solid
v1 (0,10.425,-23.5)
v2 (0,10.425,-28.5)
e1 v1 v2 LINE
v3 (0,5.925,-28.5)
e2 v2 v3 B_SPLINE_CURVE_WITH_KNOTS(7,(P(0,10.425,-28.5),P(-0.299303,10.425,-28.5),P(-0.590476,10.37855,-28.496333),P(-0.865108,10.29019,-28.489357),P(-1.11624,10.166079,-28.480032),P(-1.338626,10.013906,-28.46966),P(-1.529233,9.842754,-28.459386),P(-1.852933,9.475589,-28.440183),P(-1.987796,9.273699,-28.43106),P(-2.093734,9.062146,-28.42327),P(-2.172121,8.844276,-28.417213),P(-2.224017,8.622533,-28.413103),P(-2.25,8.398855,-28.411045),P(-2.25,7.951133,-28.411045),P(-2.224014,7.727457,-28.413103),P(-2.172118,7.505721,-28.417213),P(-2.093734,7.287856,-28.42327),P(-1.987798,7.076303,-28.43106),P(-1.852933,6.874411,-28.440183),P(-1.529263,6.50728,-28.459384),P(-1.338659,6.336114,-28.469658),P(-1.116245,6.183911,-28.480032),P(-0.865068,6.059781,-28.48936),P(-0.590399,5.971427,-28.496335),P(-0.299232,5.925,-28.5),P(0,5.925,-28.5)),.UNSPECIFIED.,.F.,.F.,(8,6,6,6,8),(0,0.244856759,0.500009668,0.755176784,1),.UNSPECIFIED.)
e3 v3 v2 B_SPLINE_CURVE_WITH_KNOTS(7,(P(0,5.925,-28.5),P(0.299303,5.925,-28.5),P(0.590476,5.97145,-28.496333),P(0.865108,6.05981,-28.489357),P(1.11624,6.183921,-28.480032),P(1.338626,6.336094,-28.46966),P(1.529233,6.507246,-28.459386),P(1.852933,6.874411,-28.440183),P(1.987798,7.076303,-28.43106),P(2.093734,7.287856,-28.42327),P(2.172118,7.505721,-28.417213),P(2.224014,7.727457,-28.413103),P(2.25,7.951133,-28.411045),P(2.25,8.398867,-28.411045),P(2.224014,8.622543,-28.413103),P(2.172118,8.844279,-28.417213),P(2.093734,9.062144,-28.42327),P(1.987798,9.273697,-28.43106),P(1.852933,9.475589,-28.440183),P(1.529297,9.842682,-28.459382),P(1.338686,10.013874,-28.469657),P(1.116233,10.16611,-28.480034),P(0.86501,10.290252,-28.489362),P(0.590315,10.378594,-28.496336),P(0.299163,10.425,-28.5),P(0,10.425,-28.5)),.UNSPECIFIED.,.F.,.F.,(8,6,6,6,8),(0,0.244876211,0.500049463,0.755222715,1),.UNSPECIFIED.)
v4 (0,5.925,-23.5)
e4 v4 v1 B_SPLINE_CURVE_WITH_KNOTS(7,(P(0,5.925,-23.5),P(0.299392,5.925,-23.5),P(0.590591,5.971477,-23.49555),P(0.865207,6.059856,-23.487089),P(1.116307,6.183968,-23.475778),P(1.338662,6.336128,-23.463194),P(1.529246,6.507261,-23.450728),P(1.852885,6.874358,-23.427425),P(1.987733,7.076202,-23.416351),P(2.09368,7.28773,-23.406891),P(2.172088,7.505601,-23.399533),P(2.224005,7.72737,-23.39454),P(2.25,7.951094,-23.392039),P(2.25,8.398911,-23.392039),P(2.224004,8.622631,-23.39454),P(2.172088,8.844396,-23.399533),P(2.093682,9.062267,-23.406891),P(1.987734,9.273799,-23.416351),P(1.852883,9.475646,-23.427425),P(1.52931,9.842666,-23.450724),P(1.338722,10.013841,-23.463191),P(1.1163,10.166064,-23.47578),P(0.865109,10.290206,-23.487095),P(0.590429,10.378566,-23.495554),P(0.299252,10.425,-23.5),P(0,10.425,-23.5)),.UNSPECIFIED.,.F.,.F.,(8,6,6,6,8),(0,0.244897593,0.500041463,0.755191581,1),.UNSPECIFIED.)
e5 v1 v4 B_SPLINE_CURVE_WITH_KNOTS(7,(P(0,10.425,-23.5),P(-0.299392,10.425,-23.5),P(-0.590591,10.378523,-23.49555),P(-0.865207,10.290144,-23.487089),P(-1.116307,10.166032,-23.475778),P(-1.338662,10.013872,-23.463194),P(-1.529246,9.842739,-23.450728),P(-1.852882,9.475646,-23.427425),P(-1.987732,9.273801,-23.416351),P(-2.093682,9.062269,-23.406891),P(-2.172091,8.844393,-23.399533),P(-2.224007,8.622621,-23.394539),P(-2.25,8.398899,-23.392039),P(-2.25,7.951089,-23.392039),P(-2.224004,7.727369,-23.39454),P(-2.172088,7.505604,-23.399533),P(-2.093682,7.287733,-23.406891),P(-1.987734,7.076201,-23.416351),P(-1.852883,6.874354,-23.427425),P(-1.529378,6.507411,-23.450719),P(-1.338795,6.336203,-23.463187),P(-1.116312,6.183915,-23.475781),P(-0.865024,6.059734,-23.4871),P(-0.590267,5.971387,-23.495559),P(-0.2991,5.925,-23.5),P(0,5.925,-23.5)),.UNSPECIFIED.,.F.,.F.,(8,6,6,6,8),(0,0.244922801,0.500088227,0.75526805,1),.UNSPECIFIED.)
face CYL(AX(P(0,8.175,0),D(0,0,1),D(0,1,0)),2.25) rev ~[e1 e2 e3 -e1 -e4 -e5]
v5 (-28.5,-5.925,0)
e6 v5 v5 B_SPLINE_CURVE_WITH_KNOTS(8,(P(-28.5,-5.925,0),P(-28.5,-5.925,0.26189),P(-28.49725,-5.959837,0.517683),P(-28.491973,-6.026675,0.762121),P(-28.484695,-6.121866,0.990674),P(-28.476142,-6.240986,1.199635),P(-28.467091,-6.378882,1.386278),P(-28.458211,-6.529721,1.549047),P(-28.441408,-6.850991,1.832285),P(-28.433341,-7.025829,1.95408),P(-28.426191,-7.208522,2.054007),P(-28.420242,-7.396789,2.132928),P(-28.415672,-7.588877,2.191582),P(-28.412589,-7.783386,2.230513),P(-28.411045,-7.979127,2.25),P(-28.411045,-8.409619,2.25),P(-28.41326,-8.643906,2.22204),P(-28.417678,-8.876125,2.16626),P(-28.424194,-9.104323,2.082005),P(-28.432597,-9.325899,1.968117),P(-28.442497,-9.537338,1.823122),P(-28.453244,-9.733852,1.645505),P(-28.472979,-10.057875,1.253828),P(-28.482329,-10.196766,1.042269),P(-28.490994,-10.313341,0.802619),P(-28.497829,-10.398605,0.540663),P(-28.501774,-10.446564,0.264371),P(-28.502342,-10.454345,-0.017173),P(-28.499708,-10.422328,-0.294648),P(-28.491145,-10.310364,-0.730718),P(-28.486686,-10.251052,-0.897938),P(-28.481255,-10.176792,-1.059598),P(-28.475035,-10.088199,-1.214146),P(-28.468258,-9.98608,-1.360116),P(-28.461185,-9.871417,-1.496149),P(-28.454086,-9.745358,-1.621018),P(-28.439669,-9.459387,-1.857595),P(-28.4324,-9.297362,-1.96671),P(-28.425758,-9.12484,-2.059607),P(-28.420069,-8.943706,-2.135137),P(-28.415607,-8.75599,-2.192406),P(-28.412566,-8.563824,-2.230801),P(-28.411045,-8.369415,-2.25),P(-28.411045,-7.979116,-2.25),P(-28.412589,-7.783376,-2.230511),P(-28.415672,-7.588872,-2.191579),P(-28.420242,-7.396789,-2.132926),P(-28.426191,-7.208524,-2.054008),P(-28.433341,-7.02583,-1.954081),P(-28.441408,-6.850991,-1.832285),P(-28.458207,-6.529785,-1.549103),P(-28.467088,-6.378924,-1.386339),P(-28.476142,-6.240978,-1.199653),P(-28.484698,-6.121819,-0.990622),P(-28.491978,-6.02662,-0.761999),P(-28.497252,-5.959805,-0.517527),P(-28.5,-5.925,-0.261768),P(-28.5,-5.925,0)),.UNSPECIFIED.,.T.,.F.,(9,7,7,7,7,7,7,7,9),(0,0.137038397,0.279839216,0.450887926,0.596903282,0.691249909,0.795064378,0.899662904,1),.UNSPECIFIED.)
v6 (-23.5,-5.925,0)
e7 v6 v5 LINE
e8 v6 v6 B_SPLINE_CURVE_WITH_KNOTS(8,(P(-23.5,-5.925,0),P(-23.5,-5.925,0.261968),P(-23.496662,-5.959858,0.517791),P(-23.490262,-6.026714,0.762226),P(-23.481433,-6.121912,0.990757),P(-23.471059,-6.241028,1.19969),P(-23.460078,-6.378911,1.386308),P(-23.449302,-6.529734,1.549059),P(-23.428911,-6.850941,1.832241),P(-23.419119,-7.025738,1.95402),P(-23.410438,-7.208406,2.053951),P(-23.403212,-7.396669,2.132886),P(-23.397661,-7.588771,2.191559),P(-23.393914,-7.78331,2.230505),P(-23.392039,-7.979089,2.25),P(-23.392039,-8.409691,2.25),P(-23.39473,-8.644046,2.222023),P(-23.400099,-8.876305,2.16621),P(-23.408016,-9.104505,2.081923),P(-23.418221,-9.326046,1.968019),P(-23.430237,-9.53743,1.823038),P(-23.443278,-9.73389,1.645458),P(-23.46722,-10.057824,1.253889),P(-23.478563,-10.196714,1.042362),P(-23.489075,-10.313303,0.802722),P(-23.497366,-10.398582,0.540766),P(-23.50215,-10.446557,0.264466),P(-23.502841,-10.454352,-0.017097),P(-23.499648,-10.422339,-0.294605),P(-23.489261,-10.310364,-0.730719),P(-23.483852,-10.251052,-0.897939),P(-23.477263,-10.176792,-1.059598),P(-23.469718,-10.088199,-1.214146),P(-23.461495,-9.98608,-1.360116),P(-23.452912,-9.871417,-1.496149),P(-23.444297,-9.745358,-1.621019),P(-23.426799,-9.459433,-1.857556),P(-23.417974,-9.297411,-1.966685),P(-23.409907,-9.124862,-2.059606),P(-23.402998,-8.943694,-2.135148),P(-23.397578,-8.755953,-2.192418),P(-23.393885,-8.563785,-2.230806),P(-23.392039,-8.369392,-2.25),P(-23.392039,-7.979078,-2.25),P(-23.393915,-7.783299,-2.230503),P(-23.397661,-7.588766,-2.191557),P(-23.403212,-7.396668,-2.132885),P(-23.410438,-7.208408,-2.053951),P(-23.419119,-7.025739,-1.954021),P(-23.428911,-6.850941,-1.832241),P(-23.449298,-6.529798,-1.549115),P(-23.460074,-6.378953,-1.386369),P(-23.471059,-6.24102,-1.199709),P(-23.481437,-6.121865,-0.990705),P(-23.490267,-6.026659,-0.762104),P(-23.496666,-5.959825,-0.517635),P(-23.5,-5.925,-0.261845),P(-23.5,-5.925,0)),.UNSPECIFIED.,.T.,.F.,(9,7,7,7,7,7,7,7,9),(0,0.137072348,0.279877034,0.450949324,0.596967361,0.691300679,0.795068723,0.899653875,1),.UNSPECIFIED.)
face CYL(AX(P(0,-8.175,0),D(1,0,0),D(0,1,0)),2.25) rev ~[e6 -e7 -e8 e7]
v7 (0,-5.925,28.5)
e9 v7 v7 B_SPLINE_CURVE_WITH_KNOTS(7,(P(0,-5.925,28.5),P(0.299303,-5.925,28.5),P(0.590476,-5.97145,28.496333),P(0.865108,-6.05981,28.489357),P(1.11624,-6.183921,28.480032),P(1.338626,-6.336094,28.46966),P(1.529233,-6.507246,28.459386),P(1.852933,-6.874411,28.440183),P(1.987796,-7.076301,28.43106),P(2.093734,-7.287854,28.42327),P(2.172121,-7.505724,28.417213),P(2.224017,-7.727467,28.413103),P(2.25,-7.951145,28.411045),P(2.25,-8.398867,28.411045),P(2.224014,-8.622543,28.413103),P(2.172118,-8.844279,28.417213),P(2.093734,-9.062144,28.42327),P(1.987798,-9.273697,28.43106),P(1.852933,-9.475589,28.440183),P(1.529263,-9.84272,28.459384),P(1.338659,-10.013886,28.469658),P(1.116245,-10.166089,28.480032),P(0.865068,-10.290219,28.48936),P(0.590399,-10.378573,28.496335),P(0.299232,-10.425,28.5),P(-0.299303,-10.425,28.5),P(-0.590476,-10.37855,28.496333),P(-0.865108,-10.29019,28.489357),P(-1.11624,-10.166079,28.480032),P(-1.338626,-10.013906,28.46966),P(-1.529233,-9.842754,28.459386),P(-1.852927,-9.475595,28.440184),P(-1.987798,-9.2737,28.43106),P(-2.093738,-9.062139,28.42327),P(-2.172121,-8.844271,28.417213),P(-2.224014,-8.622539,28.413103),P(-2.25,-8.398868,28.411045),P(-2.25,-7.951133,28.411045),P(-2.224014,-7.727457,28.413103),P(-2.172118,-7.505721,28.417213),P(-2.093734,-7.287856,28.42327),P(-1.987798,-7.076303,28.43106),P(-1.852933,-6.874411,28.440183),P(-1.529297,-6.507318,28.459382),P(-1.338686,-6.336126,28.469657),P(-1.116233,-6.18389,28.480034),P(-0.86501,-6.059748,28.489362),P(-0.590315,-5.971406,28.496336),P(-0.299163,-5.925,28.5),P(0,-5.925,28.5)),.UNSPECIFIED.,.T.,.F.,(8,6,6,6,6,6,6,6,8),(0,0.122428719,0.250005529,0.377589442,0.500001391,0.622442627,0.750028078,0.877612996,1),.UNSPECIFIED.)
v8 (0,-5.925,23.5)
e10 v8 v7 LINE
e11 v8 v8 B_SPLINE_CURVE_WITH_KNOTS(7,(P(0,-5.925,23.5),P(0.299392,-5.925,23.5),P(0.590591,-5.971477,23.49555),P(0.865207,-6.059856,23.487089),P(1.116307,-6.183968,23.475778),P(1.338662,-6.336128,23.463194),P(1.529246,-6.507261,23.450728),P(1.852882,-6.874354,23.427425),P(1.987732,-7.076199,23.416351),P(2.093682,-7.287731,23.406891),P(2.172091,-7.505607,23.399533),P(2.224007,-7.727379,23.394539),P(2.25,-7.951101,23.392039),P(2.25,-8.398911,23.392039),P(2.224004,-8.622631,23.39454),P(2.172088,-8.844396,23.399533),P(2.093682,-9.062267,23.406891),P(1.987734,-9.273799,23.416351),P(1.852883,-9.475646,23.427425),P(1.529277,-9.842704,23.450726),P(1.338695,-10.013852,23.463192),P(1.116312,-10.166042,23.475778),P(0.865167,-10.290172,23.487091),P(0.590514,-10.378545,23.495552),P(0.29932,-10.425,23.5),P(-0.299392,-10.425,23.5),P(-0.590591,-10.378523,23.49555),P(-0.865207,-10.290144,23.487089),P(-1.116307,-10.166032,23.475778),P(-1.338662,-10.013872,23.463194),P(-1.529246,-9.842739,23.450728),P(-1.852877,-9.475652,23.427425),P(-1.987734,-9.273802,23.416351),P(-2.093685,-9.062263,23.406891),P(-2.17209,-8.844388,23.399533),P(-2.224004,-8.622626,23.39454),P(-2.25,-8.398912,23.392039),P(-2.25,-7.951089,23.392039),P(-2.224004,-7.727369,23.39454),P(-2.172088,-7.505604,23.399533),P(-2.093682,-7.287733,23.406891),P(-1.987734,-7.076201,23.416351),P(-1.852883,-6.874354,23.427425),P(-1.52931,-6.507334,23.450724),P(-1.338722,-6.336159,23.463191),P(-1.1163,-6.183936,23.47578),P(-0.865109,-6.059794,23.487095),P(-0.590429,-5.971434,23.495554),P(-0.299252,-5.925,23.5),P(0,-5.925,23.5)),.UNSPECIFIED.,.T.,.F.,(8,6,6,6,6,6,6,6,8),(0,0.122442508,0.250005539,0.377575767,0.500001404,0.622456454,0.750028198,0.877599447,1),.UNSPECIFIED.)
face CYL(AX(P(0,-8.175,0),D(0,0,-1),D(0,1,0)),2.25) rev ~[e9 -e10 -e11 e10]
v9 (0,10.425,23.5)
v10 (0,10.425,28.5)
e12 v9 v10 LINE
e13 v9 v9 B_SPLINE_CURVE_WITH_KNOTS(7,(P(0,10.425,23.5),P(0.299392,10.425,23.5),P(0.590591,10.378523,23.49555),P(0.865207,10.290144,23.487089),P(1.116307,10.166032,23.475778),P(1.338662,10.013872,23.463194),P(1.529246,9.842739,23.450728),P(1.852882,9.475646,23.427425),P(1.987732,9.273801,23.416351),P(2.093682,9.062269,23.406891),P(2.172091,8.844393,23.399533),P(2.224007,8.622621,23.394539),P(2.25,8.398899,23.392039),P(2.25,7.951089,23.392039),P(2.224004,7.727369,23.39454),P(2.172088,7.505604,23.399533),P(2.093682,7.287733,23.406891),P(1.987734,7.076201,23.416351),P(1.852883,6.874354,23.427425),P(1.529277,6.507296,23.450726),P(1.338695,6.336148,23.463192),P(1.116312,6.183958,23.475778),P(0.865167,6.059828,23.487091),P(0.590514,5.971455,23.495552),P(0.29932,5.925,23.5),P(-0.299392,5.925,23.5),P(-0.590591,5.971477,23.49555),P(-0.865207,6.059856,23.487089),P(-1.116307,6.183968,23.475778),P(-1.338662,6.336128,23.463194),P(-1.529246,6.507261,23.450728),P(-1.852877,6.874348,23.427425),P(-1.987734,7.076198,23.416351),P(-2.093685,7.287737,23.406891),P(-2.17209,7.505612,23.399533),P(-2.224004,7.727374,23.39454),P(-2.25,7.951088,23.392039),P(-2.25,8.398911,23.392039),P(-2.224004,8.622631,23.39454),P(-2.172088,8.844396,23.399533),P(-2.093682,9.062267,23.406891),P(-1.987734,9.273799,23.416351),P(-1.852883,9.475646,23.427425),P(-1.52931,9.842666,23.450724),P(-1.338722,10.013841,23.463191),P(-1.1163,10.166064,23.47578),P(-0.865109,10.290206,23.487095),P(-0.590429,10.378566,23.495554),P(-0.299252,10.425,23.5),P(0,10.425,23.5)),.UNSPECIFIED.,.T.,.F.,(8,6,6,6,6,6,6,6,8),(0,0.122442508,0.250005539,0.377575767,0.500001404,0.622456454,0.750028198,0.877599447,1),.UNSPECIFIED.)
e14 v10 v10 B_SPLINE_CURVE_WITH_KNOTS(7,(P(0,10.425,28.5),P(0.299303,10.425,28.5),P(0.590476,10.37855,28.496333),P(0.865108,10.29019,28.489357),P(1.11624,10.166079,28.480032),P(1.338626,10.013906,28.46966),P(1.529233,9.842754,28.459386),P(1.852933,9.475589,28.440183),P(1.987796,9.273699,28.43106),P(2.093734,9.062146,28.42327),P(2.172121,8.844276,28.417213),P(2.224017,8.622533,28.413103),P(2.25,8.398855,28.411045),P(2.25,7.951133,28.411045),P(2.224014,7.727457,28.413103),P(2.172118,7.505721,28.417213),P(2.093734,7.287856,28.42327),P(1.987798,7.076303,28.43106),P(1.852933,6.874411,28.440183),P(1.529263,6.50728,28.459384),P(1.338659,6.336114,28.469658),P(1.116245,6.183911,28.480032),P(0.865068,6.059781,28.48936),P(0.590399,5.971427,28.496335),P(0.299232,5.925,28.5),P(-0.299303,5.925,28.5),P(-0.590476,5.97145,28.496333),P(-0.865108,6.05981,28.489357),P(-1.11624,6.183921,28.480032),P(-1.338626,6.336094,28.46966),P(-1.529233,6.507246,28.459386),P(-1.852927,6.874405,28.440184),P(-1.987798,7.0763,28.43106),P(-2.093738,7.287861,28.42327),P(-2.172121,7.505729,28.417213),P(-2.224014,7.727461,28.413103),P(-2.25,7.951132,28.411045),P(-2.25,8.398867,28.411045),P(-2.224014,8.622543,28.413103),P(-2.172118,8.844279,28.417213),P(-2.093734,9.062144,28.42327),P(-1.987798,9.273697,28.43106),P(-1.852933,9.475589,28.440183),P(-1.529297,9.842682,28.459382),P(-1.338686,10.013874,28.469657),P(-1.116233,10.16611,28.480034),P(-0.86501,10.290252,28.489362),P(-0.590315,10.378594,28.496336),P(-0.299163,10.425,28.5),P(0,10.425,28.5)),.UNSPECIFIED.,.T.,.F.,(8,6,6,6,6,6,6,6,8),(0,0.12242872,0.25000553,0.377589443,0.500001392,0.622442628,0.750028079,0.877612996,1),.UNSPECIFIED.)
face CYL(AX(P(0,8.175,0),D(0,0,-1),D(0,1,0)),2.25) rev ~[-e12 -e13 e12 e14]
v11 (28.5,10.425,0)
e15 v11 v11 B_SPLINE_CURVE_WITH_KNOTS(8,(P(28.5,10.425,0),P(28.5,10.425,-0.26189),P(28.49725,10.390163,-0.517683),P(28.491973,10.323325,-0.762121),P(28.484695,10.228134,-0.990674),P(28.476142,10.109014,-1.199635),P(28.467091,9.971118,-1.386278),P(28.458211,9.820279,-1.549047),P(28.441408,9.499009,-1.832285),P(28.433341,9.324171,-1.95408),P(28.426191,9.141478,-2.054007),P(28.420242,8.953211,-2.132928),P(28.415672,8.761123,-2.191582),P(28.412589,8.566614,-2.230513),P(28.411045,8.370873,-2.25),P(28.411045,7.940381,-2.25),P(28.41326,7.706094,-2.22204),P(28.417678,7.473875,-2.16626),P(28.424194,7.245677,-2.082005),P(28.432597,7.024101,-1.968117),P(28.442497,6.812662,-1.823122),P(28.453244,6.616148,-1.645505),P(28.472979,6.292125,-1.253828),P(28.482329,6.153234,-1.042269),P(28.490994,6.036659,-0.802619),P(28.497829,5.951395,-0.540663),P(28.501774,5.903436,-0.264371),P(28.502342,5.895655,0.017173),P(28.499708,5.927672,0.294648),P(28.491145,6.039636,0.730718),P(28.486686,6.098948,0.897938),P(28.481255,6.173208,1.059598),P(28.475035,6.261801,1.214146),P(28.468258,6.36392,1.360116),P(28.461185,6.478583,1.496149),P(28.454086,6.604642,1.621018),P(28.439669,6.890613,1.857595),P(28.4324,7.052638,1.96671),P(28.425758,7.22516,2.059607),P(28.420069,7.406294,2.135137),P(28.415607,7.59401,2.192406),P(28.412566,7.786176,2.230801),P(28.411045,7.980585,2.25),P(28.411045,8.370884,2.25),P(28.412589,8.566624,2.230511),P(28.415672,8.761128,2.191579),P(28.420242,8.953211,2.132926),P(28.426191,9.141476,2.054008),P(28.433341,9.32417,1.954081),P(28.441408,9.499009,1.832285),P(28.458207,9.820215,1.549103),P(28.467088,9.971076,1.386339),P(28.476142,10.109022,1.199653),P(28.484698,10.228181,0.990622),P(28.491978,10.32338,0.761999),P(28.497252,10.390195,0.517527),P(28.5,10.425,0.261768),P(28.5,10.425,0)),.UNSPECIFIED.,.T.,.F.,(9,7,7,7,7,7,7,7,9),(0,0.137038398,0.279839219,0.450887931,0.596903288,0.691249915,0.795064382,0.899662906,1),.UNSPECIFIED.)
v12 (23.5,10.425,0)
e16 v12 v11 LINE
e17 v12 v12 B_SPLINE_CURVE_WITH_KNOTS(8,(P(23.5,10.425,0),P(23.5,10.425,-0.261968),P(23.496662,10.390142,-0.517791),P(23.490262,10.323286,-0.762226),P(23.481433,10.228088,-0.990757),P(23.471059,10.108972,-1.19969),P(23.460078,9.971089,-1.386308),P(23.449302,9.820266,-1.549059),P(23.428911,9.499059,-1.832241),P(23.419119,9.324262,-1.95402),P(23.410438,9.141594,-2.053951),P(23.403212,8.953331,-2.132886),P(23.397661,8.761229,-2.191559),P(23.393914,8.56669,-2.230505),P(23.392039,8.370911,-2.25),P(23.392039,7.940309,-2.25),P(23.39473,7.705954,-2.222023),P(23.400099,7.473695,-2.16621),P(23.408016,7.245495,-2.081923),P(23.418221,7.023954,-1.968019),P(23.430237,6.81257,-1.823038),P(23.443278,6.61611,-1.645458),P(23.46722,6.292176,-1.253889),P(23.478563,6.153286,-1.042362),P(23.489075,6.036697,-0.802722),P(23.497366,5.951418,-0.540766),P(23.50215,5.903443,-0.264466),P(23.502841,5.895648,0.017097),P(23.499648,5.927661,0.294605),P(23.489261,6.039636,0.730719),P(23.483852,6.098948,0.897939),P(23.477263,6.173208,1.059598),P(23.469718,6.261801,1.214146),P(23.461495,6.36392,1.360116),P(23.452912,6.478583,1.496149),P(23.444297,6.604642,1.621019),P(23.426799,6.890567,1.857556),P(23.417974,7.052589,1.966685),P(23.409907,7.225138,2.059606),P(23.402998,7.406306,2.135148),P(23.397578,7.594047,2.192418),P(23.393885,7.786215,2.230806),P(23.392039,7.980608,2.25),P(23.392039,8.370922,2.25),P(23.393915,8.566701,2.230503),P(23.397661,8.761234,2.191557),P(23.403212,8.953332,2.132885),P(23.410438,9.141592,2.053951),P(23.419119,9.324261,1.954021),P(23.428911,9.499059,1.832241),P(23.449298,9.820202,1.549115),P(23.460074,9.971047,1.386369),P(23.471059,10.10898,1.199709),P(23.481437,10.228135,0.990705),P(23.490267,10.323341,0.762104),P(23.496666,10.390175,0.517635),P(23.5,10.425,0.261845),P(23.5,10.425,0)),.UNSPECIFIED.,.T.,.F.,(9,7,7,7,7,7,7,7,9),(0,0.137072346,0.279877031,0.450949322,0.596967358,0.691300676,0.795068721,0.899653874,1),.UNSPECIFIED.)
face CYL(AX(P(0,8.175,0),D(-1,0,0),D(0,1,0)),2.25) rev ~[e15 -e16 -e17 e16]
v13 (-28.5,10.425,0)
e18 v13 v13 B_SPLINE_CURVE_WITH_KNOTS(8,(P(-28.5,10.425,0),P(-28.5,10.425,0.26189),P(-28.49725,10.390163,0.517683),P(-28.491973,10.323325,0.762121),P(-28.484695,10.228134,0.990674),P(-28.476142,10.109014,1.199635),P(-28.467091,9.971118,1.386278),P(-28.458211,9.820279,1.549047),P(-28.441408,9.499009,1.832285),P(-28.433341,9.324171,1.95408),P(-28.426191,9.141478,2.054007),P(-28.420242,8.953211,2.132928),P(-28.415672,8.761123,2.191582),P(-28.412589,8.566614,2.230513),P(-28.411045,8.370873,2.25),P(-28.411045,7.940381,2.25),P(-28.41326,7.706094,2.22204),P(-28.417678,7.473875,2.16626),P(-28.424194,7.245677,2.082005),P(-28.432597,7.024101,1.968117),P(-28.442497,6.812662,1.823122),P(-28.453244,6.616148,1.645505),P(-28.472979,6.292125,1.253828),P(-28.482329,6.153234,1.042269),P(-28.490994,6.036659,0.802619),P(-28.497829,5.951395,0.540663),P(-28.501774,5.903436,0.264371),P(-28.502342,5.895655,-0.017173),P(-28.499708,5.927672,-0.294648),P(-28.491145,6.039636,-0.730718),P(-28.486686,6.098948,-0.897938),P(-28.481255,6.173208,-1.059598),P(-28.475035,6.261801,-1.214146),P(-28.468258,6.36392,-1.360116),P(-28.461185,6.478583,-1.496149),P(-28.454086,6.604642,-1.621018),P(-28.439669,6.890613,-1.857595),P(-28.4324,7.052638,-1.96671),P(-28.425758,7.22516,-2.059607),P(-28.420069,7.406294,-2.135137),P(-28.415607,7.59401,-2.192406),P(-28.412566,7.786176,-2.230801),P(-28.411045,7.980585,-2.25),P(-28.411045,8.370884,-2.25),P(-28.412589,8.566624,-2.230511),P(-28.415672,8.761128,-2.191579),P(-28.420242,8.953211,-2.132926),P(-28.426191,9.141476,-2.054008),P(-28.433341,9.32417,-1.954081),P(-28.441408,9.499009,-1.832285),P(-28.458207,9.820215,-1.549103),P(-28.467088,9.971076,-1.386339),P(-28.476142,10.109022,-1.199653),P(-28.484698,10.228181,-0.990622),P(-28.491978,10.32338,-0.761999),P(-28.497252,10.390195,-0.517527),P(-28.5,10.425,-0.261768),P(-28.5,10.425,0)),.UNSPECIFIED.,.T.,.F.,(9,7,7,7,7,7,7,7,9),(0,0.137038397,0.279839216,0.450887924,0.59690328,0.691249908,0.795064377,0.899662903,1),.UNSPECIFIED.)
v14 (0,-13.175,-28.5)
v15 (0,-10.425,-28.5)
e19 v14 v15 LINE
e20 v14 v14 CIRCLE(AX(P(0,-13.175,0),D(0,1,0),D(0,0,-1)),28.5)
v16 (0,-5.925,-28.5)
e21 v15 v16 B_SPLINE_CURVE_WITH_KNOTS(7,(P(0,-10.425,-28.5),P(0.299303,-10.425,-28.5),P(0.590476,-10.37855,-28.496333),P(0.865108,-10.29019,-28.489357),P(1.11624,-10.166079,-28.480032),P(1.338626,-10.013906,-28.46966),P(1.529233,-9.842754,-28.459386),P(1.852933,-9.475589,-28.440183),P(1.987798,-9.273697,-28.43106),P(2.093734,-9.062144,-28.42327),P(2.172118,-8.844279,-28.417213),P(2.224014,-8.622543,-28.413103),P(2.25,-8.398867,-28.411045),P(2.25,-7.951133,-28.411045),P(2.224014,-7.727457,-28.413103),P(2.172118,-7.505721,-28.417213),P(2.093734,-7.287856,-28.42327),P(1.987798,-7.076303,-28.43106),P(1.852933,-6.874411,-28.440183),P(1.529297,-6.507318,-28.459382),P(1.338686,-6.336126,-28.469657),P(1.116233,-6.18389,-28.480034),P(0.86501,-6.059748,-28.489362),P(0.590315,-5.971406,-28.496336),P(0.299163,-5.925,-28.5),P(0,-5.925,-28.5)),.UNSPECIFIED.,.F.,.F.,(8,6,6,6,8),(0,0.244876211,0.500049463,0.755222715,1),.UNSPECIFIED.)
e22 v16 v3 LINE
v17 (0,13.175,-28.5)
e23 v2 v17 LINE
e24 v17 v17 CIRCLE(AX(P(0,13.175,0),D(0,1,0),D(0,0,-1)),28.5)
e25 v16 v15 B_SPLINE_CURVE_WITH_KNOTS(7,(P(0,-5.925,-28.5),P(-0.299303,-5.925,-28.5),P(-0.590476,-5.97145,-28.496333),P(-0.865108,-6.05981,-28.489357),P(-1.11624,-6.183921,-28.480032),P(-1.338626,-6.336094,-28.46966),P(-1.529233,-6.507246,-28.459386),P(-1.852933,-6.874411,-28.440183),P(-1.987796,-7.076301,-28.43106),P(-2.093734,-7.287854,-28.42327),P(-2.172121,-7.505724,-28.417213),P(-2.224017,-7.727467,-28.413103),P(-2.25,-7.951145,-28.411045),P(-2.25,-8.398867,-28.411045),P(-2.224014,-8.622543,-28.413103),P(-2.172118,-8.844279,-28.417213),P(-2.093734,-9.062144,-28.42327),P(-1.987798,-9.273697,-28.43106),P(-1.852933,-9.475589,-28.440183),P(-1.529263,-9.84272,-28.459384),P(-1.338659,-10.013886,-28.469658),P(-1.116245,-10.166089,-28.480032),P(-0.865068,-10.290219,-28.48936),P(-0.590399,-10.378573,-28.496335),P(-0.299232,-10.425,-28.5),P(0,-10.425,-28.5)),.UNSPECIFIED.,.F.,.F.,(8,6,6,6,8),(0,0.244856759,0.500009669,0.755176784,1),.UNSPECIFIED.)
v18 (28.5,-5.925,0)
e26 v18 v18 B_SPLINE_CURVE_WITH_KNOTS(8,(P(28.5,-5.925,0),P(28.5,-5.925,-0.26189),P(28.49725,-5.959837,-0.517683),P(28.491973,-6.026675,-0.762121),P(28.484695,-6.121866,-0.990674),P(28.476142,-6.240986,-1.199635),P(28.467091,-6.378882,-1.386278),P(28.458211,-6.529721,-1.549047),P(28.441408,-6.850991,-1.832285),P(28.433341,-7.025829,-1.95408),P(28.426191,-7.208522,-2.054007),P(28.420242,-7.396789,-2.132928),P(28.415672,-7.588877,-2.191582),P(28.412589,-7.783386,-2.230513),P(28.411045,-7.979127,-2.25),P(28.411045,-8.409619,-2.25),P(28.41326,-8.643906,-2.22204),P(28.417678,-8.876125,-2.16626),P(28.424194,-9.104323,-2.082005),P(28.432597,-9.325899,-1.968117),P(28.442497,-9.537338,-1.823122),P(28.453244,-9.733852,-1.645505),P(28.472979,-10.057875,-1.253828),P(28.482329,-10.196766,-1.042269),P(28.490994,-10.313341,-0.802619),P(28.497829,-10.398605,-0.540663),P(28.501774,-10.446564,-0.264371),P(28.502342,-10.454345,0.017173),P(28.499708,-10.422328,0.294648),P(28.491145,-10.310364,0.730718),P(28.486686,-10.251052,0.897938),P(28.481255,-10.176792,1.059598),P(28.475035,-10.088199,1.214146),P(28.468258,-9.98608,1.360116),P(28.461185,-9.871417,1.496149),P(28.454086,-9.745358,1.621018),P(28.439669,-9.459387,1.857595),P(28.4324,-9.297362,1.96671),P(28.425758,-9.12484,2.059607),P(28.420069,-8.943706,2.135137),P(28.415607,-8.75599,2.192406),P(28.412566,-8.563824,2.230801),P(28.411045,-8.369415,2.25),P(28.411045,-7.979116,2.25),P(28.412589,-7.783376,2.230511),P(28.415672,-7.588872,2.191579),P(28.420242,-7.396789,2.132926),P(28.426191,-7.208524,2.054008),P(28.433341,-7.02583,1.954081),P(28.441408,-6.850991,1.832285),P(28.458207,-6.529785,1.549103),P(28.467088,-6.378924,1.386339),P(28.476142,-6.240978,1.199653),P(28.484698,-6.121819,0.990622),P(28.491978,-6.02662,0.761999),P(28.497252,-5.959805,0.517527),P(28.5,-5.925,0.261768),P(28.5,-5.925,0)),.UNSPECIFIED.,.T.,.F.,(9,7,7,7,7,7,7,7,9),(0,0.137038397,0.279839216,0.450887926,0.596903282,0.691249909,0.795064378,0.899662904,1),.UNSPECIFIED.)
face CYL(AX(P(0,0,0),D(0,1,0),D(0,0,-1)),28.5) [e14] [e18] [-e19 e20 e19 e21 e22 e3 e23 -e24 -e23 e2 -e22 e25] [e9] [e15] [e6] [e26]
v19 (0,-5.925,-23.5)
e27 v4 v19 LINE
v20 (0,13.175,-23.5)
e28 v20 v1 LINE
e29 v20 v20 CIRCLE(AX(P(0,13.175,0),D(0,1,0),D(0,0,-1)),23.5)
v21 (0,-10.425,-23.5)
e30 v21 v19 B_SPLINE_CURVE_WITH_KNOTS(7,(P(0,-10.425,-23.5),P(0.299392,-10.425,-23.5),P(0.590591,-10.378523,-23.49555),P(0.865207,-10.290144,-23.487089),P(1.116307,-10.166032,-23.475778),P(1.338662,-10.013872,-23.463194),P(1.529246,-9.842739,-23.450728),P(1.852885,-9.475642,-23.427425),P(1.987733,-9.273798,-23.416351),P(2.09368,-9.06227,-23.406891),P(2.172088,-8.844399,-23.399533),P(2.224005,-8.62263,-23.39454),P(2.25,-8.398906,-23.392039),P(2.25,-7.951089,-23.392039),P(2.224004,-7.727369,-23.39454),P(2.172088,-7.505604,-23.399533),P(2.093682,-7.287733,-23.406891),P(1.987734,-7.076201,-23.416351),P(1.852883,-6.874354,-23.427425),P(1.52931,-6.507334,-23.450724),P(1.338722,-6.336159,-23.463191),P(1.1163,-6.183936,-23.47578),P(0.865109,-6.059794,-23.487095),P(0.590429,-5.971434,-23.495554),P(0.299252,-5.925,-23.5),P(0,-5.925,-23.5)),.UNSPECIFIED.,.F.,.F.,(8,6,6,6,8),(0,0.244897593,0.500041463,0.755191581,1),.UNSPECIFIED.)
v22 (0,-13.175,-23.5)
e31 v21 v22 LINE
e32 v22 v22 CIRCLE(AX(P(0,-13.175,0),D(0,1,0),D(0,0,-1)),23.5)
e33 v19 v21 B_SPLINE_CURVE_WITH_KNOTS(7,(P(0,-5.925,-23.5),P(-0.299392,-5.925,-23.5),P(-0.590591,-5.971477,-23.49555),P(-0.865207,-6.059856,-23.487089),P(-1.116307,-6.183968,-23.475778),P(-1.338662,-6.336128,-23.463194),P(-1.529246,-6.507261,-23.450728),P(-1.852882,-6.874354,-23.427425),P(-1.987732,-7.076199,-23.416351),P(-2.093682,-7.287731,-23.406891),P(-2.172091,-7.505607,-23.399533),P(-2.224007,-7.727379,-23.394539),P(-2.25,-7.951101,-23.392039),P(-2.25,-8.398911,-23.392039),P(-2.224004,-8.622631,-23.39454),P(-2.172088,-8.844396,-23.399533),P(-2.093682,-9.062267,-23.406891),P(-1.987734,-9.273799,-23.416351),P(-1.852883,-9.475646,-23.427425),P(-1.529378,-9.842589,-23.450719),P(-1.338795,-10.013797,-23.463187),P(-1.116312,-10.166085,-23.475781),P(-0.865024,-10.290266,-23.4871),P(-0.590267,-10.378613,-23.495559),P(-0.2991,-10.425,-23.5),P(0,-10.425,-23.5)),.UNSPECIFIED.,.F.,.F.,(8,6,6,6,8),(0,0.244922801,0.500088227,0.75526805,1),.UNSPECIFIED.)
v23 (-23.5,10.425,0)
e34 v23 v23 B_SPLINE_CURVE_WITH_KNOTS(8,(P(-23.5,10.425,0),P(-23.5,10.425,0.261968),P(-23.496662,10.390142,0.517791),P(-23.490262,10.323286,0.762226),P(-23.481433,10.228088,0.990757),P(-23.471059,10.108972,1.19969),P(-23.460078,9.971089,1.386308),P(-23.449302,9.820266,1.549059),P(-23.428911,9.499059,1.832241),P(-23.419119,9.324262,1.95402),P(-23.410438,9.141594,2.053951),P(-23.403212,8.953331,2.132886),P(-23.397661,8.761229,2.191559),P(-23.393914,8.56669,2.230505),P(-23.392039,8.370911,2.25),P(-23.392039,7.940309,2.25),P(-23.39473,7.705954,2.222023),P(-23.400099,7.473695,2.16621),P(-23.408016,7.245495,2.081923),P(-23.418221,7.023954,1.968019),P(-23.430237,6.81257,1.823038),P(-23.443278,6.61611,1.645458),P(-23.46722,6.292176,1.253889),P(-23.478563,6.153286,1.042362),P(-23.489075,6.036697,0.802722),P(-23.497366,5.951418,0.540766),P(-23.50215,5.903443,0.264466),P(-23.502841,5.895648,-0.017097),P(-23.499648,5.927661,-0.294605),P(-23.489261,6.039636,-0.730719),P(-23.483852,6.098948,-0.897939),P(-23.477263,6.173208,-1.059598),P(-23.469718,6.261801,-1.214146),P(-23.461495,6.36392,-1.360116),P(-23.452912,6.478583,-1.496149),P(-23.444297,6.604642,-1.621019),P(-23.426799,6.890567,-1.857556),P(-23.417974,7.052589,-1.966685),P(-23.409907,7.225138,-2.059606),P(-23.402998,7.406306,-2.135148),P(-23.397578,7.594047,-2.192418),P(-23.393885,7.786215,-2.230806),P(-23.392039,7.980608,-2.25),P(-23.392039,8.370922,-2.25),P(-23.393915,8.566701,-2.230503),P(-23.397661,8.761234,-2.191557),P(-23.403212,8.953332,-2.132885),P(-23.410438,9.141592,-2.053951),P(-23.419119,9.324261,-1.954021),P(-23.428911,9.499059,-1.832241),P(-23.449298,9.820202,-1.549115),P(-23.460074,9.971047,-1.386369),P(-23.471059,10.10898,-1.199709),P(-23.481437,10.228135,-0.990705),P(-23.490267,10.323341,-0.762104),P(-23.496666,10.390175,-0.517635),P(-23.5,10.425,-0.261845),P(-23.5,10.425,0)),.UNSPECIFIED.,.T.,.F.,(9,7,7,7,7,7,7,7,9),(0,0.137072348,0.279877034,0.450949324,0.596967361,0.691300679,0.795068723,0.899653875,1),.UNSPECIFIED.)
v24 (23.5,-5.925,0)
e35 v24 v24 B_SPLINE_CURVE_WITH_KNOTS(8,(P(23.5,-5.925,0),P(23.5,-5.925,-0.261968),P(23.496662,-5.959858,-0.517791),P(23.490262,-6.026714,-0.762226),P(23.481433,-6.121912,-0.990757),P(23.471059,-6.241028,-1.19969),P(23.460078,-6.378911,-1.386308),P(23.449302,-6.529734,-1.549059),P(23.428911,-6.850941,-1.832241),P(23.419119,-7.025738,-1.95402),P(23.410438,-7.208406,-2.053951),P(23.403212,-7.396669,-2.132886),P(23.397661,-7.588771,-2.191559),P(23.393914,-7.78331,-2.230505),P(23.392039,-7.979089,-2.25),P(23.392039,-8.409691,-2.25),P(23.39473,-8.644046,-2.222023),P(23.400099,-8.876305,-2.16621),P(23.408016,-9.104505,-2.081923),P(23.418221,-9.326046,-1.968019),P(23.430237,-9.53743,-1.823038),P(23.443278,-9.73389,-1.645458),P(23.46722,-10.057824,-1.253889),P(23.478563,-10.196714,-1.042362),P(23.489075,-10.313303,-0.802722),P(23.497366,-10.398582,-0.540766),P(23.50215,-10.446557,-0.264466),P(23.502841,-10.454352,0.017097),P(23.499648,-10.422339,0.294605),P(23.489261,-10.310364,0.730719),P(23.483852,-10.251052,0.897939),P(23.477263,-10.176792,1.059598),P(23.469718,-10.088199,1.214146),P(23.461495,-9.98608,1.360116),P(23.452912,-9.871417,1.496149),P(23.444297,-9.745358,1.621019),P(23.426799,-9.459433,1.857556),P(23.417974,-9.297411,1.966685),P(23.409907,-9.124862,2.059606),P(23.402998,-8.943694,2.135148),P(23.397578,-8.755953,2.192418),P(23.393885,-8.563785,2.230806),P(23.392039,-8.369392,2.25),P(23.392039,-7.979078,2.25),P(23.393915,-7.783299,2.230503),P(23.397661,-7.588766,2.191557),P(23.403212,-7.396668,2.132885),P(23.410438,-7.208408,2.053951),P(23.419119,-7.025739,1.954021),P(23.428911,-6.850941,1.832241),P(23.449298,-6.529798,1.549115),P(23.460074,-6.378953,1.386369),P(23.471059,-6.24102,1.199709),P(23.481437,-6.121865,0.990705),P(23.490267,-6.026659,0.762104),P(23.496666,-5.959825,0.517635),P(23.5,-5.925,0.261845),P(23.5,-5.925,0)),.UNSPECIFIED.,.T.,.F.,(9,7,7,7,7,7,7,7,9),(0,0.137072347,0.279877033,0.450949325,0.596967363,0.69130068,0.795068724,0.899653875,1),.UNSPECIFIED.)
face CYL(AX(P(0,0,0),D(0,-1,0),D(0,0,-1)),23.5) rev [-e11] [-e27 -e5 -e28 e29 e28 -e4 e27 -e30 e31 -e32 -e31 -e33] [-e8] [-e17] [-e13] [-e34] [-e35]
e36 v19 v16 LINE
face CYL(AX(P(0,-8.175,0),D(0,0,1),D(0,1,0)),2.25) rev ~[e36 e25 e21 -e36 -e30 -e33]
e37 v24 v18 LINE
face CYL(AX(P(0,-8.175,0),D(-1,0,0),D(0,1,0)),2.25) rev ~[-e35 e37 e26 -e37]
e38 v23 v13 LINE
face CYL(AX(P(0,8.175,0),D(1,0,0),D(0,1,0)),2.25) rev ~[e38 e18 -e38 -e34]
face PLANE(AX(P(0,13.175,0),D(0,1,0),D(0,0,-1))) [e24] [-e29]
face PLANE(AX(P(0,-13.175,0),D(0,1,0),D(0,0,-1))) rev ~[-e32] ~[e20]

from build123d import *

# Parameters (mm, degrees)
SKETCH1_R           = 28.5
SKETCH1_R_2         = 23.5
BOSS_EXTRUDE1_DEPTH = 13.175
SKETCH2_R           = 2.25
CUT_EXTRUDE1_DEPTH  = 43.403780787
CIRPATTERN1_COUNT   = 4


with BuildPart() as part:
    # Sketch1 → Boss-Extrude1 (new, symmetric)
    with BuildSketch(Plane(origin=(0, 0, 0), x_dir=(1, 0, 0), z_dir=(0, 1, 0))):
        with Locations(Location((0, 0, 0), (0, 0, 90))):
            Circle(SKETCH1_R)
        with Locations(Location((0, 0, 0), (0, 0, 90))):
            Circle(SKETCH1_R_2, mode=Mode.SUBTRACT)
    extrude(amount=BOSS_EXTRUDE1_DEPTH, both=True)

    # Sketch2 → Cut-Extrude1 (cut, through all)
    with BuildSketch(Plane.XY):
        with Locations(Location((0, 8.175, 0), (0, 0, 90))):
            Circle(SKETCH2_R)
        with Locations(Location((0, -8.175, 0), (0, 0, 90))):
            Circle(SKETCH2_R)
    cut_extrude1 = extrude(amount=-CUT_EXTRUDE1_DEPTH, mode=Mode.SUBTRACT)

    # CirPattern1: Cut-Extrude1 ×4 about axis
    cirpattern1_axis = Axis((0, 13.175, 0), (0, -1, 0))
    for i in range(1, CIRPATTERN1_COUNT):
        add(cut_extrude1.rotate(cirpattern1_axis, i * 360 / CIRPATTERN1_COUNT), mode=Mode.SUBTRACT)


solid = part.part
